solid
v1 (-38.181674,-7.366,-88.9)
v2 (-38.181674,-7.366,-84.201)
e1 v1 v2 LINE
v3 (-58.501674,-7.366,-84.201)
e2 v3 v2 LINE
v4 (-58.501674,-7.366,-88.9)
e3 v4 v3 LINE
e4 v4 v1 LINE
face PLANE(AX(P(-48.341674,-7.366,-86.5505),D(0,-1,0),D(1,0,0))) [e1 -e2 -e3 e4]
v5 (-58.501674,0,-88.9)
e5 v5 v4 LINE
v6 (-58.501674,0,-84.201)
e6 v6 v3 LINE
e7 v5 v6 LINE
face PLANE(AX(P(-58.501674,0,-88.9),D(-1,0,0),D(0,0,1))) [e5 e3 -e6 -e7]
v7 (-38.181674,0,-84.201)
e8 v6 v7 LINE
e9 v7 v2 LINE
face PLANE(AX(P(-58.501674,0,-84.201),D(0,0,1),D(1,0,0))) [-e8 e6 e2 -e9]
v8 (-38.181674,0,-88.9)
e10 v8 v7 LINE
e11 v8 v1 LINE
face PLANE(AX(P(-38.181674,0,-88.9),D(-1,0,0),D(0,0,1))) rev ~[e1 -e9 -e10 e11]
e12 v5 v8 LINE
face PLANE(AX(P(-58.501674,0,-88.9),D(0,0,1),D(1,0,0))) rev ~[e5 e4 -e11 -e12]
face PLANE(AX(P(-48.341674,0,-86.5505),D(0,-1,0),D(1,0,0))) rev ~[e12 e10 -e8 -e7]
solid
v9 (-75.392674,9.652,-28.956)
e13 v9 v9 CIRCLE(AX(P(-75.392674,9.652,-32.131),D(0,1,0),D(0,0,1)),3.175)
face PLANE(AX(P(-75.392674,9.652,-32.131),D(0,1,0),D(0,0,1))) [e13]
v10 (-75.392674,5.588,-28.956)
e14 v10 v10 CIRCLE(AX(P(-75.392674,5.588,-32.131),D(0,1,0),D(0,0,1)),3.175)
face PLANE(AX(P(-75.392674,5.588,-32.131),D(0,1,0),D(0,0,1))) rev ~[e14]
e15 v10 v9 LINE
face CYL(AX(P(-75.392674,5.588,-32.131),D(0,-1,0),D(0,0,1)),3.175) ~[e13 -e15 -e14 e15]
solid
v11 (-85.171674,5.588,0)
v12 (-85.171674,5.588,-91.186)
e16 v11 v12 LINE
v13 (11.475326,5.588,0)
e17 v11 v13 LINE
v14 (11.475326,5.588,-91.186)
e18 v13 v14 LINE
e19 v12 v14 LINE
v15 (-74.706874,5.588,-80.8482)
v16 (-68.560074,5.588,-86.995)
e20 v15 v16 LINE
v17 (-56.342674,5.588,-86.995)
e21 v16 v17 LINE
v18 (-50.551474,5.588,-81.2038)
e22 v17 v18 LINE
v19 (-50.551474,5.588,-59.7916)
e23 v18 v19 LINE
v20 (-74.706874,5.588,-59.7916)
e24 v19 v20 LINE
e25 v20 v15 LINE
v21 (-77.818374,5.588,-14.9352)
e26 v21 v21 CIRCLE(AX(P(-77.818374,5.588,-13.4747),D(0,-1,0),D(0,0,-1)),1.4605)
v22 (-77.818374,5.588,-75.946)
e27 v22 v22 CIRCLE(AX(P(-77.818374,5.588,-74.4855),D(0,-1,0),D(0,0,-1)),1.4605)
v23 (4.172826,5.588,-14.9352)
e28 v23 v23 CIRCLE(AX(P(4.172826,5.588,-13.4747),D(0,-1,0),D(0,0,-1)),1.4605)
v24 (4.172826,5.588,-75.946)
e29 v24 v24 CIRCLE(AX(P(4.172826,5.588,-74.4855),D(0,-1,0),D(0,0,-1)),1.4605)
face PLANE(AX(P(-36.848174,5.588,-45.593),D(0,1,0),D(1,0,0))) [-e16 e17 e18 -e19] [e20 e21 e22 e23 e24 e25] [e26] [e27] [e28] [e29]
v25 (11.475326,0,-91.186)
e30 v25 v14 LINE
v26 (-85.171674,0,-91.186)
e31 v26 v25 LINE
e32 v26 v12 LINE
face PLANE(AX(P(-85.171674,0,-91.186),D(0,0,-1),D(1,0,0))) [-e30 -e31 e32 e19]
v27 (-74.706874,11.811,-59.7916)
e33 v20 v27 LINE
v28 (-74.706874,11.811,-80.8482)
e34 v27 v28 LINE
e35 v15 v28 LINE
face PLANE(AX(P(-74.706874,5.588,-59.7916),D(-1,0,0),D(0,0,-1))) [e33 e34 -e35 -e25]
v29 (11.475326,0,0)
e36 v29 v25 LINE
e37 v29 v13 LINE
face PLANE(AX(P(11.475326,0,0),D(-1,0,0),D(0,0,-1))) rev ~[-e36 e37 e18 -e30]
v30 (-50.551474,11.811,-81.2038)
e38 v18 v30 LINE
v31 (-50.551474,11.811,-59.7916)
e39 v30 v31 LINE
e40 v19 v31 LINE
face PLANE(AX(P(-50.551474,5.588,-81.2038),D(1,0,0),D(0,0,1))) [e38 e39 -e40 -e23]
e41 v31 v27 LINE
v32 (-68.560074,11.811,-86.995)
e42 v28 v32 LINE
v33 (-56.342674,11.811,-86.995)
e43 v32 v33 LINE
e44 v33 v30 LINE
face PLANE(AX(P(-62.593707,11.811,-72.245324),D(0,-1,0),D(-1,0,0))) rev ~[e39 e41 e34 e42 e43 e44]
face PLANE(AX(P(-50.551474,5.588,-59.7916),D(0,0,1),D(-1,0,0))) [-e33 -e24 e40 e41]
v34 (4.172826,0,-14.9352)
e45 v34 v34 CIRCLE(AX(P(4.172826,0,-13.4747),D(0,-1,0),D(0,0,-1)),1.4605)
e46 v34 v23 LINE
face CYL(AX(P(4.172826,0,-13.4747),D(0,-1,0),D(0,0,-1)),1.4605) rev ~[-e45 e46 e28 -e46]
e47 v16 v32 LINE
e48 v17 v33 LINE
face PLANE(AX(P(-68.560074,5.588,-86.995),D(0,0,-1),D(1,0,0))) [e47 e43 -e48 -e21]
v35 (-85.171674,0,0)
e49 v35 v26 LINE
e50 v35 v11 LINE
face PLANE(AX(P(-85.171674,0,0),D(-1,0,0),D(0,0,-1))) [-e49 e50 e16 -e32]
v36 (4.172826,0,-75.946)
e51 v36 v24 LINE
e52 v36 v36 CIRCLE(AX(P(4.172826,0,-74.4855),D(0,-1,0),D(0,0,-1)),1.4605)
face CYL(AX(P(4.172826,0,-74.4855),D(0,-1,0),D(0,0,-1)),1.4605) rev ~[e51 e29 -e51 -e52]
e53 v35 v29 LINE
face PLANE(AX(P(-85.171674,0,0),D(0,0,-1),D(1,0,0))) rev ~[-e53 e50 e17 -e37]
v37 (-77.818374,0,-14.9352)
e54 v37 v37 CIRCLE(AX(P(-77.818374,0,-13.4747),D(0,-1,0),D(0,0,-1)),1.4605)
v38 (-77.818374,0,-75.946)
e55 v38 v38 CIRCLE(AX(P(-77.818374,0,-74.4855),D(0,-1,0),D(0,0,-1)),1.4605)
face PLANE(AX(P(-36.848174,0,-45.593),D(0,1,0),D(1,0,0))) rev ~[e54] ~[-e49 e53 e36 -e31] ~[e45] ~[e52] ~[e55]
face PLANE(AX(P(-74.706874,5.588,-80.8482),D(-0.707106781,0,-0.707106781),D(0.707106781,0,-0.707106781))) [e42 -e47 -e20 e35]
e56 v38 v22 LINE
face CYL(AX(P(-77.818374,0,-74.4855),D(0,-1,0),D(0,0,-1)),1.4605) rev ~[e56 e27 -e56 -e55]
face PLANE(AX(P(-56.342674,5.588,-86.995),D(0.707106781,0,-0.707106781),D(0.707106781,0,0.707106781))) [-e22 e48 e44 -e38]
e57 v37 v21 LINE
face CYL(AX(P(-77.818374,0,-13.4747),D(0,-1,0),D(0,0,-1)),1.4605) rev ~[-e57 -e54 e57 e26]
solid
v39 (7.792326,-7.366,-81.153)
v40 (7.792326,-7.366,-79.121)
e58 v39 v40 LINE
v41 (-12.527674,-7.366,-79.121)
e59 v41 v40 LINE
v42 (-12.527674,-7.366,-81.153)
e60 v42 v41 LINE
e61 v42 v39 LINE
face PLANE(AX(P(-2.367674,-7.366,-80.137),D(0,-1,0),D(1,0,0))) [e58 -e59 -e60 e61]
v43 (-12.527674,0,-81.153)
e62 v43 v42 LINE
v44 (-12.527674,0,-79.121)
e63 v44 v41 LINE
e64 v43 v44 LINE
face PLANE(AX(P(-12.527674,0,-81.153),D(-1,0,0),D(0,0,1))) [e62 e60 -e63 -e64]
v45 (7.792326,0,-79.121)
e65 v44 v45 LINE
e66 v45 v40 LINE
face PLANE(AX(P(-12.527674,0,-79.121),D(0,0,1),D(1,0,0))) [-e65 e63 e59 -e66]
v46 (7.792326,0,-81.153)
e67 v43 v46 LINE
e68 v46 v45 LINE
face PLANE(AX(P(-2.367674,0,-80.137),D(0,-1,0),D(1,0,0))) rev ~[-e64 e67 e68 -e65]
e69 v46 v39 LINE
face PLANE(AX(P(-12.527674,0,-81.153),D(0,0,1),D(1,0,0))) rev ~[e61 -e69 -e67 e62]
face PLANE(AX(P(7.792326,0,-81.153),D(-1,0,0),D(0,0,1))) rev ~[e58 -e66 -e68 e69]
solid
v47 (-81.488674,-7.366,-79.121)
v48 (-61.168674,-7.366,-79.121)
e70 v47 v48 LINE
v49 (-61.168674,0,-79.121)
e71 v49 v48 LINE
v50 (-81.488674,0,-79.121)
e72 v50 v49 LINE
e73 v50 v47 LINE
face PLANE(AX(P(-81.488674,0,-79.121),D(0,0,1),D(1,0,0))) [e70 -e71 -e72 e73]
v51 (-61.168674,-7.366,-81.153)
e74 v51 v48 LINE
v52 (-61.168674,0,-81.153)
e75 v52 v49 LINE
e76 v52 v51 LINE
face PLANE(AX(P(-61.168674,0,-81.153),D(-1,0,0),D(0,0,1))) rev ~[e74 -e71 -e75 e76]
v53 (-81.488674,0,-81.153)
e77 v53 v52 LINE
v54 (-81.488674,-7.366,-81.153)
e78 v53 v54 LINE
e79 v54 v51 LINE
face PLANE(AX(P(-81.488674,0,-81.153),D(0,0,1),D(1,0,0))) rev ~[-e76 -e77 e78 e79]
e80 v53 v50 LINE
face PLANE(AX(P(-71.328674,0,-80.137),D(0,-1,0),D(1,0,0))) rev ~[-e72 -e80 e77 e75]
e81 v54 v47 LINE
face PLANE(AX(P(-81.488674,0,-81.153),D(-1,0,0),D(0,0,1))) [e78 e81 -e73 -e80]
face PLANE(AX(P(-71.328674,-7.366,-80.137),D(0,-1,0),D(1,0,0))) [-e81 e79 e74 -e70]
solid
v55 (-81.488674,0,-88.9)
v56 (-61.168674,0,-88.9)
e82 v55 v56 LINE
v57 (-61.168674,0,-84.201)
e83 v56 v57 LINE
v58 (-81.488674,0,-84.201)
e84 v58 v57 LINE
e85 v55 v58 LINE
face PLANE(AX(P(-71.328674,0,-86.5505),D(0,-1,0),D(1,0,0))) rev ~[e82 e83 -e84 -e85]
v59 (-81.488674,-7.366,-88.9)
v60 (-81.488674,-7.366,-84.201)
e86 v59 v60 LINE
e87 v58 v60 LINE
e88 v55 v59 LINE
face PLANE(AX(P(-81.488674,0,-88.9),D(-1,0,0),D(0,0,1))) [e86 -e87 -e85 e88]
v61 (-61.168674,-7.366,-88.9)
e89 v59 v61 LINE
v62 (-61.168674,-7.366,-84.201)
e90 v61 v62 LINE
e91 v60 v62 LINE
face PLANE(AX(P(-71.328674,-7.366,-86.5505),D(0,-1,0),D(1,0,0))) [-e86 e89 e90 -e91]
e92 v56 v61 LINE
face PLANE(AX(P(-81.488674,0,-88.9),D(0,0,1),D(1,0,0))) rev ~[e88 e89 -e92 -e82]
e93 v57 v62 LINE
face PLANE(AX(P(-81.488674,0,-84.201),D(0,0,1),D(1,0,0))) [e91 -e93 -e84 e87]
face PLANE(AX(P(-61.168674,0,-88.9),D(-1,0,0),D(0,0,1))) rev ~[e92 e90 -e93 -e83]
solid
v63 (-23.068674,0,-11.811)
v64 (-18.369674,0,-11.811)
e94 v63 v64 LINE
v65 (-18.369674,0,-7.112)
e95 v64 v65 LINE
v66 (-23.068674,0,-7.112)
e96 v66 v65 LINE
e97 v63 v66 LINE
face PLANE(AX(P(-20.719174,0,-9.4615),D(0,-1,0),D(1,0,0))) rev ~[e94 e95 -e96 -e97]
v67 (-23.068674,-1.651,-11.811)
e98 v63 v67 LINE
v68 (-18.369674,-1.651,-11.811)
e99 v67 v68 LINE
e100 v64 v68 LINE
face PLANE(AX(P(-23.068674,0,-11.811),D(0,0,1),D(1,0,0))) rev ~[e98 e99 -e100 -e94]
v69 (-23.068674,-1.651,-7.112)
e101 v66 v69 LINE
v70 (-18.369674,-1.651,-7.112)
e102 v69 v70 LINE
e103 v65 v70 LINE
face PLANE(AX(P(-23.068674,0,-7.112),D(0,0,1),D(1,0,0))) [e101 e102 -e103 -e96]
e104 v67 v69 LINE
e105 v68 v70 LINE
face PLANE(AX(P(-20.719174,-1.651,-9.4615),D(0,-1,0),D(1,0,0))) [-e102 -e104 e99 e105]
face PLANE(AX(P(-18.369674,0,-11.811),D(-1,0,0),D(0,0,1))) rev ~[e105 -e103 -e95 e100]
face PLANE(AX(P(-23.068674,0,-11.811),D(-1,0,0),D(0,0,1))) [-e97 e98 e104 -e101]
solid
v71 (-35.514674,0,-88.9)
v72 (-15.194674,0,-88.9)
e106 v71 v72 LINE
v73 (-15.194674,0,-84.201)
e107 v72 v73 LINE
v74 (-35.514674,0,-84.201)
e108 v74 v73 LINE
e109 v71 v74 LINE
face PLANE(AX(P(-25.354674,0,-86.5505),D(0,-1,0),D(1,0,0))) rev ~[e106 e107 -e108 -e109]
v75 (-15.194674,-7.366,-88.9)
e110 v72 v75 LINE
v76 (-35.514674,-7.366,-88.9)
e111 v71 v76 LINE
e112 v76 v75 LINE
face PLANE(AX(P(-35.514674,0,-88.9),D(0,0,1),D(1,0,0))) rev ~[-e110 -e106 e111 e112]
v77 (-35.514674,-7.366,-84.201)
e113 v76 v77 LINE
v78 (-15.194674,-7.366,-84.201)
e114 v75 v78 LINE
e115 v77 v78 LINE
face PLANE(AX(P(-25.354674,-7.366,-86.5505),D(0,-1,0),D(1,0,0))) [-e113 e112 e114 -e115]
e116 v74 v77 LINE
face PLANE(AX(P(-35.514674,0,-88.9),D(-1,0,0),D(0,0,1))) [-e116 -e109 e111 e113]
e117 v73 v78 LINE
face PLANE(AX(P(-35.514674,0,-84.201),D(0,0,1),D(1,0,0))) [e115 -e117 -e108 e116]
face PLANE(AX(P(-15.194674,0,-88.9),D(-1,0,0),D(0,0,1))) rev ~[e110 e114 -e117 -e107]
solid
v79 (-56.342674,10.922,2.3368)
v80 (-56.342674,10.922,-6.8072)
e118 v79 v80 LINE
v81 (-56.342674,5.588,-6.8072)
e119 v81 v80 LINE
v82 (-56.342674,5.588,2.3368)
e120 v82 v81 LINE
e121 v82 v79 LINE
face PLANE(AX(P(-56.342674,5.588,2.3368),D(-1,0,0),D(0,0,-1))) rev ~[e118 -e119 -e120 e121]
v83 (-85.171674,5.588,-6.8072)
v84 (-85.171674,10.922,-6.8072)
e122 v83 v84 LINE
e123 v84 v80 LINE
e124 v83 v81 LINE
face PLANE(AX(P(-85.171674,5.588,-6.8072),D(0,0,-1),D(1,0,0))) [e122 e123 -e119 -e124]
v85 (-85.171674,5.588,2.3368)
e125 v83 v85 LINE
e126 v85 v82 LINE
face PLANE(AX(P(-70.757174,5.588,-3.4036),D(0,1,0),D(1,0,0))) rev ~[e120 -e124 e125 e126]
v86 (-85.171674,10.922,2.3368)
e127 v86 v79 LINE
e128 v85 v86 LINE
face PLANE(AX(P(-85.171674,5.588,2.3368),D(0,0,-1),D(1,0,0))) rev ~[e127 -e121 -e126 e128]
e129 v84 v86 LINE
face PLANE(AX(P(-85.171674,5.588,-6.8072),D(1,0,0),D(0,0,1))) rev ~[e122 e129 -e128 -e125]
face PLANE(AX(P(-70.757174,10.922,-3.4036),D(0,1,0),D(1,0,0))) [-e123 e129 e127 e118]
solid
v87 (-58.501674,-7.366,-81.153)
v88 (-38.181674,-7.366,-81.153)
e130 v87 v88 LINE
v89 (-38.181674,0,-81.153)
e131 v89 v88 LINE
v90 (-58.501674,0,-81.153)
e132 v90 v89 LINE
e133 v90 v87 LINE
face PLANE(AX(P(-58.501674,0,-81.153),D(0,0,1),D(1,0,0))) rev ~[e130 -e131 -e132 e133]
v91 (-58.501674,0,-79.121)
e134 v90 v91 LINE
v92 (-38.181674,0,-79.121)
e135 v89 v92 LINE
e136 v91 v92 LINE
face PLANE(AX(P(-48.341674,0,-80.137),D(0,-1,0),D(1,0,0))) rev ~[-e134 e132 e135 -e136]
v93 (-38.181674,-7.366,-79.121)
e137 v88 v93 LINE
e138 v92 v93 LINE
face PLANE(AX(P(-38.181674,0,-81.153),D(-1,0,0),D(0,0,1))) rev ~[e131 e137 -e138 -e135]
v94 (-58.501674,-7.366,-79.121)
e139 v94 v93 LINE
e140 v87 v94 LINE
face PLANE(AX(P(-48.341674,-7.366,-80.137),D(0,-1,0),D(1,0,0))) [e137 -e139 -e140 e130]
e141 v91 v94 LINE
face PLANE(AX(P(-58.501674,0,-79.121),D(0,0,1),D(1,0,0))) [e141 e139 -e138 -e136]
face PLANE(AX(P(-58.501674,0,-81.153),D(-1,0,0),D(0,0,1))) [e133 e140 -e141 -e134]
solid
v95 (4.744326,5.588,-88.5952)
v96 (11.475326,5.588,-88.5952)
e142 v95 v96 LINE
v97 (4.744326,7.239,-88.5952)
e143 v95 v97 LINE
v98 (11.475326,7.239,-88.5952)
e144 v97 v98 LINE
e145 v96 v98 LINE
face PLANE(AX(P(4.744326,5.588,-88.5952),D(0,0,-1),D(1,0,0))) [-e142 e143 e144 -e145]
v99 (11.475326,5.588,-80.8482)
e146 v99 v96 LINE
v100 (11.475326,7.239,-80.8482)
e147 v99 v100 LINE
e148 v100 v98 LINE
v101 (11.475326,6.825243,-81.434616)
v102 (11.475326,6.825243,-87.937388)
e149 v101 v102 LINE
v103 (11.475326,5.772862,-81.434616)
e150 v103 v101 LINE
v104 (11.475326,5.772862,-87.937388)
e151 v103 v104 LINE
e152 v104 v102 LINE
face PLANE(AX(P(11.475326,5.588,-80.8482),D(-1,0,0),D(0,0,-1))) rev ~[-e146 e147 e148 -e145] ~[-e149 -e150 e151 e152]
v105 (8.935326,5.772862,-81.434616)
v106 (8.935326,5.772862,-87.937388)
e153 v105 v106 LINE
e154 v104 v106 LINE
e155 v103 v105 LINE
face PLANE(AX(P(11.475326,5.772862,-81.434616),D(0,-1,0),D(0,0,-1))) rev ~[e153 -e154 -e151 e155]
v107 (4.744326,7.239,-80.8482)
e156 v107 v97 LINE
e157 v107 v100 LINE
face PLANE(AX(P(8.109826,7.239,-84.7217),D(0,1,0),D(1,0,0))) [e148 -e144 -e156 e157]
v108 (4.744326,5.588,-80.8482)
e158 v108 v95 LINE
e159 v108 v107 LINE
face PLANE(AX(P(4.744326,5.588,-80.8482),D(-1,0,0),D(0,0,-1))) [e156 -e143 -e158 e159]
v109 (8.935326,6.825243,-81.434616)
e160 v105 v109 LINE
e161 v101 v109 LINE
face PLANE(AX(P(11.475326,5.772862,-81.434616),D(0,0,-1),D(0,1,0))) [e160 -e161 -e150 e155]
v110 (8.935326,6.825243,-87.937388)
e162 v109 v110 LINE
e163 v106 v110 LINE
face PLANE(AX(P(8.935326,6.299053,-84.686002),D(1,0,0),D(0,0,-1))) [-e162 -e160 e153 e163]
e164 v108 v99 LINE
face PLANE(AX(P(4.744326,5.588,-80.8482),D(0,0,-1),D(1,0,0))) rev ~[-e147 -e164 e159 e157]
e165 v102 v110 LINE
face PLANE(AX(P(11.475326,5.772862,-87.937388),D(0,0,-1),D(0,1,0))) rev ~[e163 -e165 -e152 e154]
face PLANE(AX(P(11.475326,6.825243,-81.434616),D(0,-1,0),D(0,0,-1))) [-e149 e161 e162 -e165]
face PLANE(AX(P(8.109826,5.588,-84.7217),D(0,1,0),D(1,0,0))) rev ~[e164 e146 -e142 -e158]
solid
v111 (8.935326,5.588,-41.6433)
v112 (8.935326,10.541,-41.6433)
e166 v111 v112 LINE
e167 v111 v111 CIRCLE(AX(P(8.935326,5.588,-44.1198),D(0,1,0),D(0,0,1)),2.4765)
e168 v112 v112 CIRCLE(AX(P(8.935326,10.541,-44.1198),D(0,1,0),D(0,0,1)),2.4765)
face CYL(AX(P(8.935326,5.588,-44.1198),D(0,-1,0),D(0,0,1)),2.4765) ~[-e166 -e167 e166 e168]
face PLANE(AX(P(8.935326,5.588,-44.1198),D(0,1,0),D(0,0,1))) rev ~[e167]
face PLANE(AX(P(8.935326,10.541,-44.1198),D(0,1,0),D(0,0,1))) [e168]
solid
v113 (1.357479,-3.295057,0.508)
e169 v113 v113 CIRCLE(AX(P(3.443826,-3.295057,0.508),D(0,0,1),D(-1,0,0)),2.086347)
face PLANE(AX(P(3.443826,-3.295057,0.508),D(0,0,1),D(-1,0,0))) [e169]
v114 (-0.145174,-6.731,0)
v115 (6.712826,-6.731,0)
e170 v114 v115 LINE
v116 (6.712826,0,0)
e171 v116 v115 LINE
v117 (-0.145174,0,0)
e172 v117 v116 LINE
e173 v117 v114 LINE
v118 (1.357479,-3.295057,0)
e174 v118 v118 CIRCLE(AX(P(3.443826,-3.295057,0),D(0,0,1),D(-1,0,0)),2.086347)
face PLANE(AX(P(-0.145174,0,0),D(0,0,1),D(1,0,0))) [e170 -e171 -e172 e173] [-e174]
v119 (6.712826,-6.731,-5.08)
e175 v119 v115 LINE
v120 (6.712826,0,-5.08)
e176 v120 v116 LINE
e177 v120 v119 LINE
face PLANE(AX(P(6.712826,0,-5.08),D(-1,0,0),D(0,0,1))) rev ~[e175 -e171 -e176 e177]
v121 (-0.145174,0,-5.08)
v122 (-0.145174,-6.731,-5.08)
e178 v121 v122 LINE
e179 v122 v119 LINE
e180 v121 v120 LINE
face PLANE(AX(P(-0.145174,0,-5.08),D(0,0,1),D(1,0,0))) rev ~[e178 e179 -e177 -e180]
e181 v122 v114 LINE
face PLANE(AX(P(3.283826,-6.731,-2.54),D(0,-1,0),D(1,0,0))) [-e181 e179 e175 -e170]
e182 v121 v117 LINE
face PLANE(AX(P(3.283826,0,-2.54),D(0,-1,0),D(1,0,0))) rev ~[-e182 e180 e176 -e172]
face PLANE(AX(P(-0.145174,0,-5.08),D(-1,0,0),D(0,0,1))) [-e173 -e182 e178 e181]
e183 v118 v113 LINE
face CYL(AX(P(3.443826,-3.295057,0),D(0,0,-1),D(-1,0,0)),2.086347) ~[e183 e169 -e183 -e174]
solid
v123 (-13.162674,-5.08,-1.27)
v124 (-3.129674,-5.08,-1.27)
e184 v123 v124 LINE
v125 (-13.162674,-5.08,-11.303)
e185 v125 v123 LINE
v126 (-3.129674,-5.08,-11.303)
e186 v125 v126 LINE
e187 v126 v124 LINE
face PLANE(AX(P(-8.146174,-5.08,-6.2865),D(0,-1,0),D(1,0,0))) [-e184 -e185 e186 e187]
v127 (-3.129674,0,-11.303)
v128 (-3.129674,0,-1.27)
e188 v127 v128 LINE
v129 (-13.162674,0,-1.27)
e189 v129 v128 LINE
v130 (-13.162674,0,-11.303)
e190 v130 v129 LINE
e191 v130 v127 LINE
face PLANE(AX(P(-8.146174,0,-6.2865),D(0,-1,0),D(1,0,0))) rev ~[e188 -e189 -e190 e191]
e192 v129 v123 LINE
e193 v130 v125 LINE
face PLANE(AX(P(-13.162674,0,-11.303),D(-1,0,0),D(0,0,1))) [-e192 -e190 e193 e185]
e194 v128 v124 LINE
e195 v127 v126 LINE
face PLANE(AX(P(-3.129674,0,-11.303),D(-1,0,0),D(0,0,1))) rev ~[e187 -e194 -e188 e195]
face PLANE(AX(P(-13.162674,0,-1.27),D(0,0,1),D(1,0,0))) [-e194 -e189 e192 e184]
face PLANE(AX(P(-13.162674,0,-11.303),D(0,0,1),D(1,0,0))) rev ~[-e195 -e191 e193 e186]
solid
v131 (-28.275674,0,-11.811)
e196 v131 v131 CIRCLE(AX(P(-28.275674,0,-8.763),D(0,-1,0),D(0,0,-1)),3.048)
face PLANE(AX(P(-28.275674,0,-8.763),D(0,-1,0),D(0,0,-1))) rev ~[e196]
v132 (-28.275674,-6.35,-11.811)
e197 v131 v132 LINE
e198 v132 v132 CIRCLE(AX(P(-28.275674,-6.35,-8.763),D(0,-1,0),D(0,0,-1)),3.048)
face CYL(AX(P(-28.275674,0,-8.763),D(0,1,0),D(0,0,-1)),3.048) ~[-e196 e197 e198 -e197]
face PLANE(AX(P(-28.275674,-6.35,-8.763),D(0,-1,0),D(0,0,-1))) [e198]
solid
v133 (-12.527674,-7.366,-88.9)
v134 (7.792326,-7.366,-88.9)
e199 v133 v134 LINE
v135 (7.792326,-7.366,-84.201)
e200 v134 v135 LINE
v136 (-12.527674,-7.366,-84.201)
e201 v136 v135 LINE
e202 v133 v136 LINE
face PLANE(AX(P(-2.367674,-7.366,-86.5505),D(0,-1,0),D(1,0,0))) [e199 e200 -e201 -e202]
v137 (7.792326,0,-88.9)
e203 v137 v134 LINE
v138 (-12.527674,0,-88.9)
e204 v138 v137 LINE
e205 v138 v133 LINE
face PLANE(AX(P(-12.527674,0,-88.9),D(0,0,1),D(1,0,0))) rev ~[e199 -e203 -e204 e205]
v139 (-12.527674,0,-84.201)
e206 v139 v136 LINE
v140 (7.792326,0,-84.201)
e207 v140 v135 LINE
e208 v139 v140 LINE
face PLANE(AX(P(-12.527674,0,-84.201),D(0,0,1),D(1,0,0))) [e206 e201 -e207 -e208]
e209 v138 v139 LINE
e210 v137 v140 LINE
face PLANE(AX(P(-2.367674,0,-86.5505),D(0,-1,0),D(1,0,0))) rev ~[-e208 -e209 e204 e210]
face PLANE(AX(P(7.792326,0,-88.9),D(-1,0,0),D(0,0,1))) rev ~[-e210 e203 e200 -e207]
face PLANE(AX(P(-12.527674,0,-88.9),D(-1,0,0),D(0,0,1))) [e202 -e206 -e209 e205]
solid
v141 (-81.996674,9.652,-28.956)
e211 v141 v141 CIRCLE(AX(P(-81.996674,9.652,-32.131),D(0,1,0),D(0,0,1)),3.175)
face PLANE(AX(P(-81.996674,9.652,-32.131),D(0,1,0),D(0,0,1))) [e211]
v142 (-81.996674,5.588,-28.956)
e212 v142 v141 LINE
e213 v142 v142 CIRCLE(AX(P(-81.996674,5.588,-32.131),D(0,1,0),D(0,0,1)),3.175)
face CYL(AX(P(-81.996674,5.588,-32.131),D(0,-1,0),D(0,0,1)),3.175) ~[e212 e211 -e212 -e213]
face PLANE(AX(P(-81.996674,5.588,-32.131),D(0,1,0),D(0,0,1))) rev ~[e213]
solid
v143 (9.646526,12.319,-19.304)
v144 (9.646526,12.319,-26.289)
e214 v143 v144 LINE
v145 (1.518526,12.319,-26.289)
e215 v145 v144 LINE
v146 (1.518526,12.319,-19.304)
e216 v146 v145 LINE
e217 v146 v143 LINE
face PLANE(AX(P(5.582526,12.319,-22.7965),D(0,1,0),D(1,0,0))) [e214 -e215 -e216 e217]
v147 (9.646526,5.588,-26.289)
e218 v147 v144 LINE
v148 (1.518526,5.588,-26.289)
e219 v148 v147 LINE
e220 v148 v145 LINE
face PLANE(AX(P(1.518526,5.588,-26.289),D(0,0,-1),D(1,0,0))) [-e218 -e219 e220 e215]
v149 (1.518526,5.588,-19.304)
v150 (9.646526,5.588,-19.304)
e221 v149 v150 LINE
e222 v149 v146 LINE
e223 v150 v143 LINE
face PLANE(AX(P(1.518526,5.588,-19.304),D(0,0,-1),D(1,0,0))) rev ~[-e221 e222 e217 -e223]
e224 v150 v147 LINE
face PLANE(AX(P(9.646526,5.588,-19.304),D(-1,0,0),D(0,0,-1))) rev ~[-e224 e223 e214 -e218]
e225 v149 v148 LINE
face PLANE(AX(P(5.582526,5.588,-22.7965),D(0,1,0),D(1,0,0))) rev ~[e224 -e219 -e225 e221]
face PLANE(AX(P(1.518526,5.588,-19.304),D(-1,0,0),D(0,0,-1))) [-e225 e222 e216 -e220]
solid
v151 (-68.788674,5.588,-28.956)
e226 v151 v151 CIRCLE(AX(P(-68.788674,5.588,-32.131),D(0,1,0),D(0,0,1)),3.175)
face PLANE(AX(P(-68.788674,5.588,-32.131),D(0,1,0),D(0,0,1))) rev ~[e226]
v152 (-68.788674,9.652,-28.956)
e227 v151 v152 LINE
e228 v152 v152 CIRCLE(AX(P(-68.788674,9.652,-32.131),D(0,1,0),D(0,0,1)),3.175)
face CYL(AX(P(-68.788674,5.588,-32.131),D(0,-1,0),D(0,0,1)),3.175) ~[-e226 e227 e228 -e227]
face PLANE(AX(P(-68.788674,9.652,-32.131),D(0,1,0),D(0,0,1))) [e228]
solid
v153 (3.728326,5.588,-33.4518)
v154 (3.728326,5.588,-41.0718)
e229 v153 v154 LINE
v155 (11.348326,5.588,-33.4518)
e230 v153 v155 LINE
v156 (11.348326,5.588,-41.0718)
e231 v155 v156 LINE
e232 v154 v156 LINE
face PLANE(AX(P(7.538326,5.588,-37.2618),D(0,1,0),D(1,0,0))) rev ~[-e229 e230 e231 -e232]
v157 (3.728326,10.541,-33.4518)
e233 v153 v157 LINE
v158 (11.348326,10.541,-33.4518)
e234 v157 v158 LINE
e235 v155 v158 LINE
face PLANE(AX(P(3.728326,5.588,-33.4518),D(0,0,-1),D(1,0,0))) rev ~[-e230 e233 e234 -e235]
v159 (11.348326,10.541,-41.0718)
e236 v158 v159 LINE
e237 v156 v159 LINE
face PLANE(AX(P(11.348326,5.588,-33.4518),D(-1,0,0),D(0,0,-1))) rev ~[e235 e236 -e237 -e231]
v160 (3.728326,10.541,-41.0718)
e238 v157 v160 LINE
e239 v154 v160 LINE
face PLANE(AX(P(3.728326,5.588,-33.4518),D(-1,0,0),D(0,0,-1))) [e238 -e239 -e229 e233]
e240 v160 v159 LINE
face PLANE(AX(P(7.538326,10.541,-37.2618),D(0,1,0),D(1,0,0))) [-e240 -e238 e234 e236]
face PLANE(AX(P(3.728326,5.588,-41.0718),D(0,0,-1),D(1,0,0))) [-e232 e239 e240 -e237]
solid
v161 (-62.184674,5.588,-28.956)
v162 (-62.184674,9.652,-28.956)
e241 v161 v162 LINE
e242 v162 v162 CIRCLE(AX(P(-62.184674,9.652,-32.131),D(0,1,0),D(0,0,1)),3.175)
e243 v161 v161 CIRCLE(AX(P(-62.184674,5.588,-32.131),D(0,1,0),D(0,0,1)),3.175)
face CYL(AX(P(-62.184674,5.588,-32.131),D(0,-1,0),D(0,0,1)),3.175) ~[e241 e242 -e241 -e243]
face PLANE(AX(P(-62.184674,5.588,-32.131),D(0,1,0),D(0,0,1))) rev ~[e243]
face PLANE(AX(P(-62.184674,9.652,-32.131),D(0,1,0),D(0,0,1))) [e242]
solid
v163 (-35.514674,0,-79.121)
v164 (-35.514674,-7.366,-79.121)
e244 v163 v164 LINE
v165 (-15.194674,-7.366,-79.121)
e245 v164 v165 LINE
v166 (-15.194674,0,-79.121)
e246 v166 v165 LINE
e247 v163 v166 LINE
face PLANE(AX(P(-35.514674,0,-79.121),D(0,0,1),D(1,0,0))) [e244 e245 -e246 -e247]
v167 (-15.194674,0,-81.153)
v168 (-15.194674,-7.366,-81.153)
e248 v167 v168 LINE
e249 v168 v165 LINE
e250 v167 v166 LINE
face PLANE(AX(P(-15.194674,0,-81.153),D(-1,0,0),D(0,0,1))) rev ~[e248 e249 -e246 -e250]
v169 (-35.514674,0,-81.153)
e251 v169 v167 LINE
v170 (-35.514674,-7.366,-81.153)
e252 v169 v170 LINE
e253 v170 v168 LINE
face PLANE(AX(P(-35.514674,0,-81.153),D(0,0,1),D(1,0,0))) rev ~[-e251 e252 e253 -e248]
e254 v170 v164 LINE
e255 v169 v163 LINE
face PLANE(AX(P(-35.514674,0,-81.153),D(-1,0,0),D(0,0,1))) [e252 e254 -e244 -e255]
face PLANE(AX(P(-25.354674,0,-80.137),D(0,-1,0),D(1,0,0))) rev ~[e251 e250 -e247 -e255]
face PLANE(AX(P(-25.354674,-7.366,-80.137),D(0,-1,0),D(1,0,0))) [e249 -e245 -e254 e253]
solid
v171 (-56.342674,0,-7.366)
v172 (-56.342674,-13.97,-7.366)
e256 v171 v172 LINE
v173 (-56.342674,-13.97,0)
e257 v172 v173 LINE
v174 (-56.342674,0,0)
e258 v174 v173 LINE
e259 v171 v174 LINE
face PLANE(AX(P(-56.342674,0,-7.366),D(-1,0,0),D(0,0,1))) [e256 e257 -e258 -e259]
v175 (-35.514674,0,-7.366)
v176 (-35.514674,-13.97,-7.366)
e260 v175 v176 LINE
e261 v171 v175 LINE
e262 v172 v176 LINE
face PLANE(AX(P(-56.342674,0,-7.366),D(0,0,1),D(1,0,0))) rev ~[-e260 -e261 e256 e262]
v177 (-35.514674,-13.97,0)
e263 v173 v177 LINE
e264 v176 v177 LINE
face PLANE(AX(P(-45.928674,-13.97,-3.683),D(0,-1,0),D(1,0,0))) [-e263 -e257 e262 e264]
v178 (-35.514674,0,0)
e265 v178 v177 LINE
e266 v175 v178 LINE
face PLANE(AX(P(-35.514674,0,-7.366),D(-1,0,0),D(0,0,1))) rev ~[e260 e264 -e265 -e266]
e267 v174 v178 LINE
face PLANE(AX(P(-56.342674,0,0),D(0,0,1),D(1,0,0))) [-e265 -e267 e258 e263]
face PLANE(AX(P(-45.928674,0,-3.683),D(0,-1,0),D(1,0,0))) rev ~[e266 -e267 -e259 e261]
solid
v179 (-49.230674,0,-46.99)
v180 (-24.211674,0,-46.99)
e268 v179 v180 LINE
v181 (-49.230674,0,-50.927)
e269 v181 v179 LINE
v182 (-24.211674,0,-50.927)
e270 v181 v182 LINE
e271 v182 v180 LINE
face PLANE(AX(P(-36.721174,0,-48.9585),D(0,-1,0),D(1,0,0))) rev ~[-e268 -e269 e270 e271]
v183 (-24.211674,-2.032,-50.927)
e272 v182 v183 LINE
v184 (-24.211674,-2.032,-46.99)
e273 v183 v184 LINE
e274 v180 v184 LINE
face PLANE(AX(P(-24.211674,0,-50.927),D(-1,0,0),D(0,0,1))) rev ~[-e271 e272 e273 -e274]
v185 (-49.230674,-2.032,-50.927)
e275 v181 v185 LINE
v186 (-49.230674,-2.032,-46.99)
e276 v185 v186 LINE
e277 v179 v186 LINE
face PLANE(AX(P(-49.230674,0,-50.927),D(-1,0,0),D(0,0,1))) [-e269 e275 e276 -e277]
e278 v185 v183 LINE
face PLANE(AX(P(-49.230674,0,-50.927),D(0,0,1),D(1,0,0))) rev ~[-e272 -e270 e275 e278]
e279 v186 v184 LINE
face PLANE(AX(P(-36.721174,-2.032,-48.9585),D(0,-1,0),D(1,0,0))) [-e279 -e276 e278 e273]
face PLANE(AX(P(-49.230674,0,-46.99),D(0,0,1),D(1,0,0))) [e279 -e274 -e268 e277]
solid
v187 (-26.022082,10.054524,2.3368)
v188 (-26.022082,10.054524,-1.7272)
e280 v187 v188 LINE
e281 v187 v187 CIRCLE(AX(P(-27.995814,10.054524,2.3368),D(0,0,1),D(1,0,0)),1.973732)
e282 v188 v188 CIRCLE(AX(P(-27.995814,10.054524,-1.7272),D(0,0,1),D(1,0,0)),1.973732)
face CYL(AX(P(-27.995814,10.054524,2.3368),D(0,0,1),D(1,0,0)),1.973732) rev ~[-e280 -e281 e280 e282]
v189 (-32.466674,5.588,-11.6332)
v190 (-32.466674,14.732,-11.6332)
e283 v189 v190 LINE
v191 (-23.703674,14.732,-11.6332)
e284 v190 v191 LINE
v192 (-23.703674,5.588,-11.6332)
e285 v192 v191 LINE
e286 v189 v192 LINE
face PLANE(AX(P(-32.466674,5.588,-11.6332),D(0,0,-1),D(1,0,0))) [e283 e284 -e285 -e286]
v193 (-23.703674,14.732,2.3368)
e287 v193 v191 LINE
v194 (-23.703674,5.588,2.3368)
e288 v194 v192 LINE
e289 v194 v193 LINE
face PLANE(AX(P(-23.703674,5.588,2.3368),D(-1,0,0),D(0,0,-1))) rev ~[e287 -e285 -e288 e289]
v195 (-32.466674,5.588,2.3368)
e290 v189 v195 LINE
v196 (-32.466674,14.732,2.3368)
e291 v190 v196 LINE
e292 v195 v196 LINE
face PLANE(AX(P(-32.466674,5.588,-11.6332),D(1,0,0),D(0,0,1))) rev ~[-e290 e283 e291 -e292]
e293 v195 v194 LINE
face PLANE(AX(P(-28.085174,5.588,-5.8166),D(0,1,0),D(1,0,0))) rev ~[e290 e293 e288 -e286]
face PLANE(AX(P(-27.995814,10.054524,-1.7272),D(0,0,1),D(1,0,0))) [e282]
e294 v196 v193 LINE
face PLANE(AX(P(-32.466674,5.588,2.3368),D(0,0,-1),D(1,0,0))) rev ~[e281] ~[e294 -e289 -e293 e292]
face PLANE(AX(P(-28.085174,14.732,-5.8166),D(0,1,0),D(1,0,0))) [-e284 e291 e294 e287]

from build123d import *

# Parameters (mm, degrees)
SKETCH1_W             = 96.647
SKETCH1_H             = 91.186
BOSS_EXTRUDE1_DEPTH   = 5.588
BOSS_EXTRUDE2_DEPTH   = 6.223
SKETCH2_3_R           = 3.175
BOSS_EXTRUDE3_DEPTH   = 4.064
BOSS_EXTRUDE3_2_DEPTH = 4.064
BOSS_EXTRUDE3_3_DEPTH = 4.064
BOSS_EXTRUDE3_4_DEPTH = 4.064
SKETCH2_4_W           = 28.829
SKETCH2_4_H           = 6.8072
SKETCH2_4_H_2         = 2.3368
BOSS_EXTRUDE4_DEPTH   = 5.334
SKETCH2_5_W           = 8.763
SKETCH2_5_H           = 11.6332
SKETCH2_5_H_2         = 2.3368
BOSS_EXTRUDE5_DEPTH   = 9.144
SKETCH2_6_W           = 8.128
SKETCH2_6_H           = 6.985
BOSS_EXTRUDE6_DEPTH   = 6.731
SKETCH2_7_W           = 7.62
SKETCH2_7_H           = 7.62
BOSS_EXTRUDE7_DEPTH   = 4.953
SKETCH2_7_R           = 2.4765
BOSS_EXTRUDE7_2_DEPTH = 4.953
SKETCH2_8_W           = 6.731
SKETCH2_8_H           = 7.747
BOSS_EXTRUDE8_DEPTH   = 1.651
SKETCH3_W             = 20.32
SKETCH3_H             = 2.032
BOSS_EXTRUDE9_DEPTH   = 7.366
SKETCH3_H_2           = 4.699
BOSS_EXTRUDE9_2_DEPTH = 7.366
BOSS_EXTRUDE9_3_DEPTH = 7.366
BOSS_EXTRUDE9_4_DEPTH = 7.366
BOSS_EXTRUDE9_5_DEPTH = 7.366
BOSS_EXTRUDE9_6_DEPTH = 7.366
BOSS_EXTRUDE9_7_DEPTH = 7.366
BOSS_EXTRUDE9_8_DEPTH = 7.366
SKETCH4_W             = 20.828
SKETCH4_H             = 7.366
BOSS_EXTRUDE10_DEPTH  = 13.97
SKETCH5_W             = 25.019
SKETCH5_H             = 3.937
BOSS_EXTRUDE11_DEPTH  = 2.032
SKETCH6_R             = 3.048
BOSS_EXTRUDE12_DEPTH  = 6.35
SKETCH7_W             = 4.699
SKETCH7_H             = 4.699
BOSS_EXTRUDE13_DEPTH  = 1.651
SKETCH8_W             = 10.033
SKETCH8_H             = 10.033
BOSS_EXTRUDE14_DEPTH  = 5.08
SKETCH10_W            = 6.858
SKETCH10_H            = 5.08
BOSS_EXTRUDE15_DEPTH  = 6.731
SKETCH11_R            = 1.4605
CUT_EXTRUDE1_DEPTH    = 126.642876838
SKETCH13_W            = 6.502772336
SKETCH13_H            = 1.05238103
CUT_EXTRUDE3_DEPTH    = 2.54
SKETCH12_R            = 2.086347044
BOSS_EXTRUDE16_DEPTH  = 0.508
SKETCH14_R            = 1.973731767
CUT_EXTRUDE4_DEPTH    = 4.064


with BuildPart() as part:
    # Sketch1 → Boss-Extrude1 (new body)
    with BuildSketch(Plane(origin=(0, 0, 0), x_dir=(1, 0, 0), z_dir=(0, 1, 0))):
        with Locations((-36.848174165, 45.593)):
            Rectangle(SKETCH1_W, SKETCH1_H)
    extrude(amount=BOSS_EXTRUDE1_DEPTH)

    # Sketch2 → Boss-Extrude2 (add)
    with BuildSketch(Plane(origin=(0, 5.588, 0), x_dir=(1, 0, 0), z_dir=(0, 1, 0))):
        Polygon((-56.342674165, 86.995), (-50.551474165, 81.2038), (-50.551474165, 59.7916), (-74.706874165, 59.7916), (-74.706874165, 80.8482), (-68.560074165, 86.995), align=None)
    extrude(amount=BOSS_EXTRUDE2_DEPTH)

    # Sketch11 → Cut-Extrude1 (cut, through all)
    with BuildSketch(Plane.XZ):
        with Locations(Location((-77.818374165, -13.4747, 0), (0, 0, 270))):
            Circle(SKETCH11_R)
        with Locations(Location((-77.818374165, -74.4855, 0), (0, 0, 270))):
            Circle(SKETCH11_R)
        with Locations(Location((4.172825835, -74.4855, 0), (0, 0, 270))):
            Circle(SKETCH11_R)
        with Locations(Location((4.172825835, -13.4747, 0), (0, 0, 270))):
            Circle(SKETCH11_R)
    extrude(amount=-CUT_EXTRUDE1_DEPTH, mode=Mode.SUBTRACT)


with BuildPart() as body_2:
    # Sketch2<3> → Boss-Extrude3 (new body)
    with BuildSketch(Plane(origin=(0, 5.588, 0), x_dir=(1, 0, 0), z_dir=(0, 1, 0))):
        with Locations(Location((-81.996674165, 32.131, 0), (0, 0, 270))):
            Circle(SKETCH2_3_R)
    extrude(amount=BOSS_EXTRUDE3_DEPTH)


with BuildPart() as body_3:
    # Sketch2<3> → Boss-Extrude3 2 (new body)
    with BuildSketch(Plane(origin=(0, 5.588, 0), x_dir=(1, 0, 0), z_dir=(0, 1, 0))):
        with Locations(Location((-75.392674165, 32.131, 0), (0, 0, 270))):
            Circle(SKETCH2_3_R)
    extrude(amount=BOSS_EXTRUDE3_2_DEPTH)


with BuildPart() as body_4:
    # Sketch2<3> → Boss-Extrude3 3 (new body)
    with BuildSketch(Plane(origin=(0, 5.588, 0), x_dir=(1, 0, 0), z_dir=(0, 1, 0))):
        with Locations(Location((-68.788674165, 32.131, 0), (0, 0, 270))):
            Circle(SKETCH2_3_R)
    extrude(amount=BOSS_EXTRUDE3_3_DEPTH)


with BuildPart() as body_5:
    # Sketch2<3> → Boss-Extrude3 4 (new body)
    with BuildSketch(Plane(origin=(0, 5.588, 0), x_dir=(1, 0, 0), z_dir=(0, 1, 0))):
        with Locations(Location((-62.184674165, 32.131, 0), (0, 0, 270))):
            Circle(SKETCH2_3_R)
    extrude(amount=BOSS_EXTRUDE3_4_DEPTH)


with BuildPart() as body_6:
    # Sketch2<4> → Boss-Extrude4 (new body)
    with BuildSketch(Plane(origin=(0, 5.588, 0), x_dir=(1, 0, 0), z_dir=(0, 1, 0))):
        with Locations((-70.757174165, 3.4036)):
            Rectangle(SKETCH2_4_W, SKETCH2_4_H)
        with Locations((-70.757174165, -1.1684)):
            Rectangle(SKETCH2_4_W, SKETCH2_4_H_2)
    extrude(amount=BOSS_EXTRUDE4_DEPTH)


with BuildPart() as body_7:
    # Sketch2<5> → Boss-Extrude5 (new body)
    with BuildSketch(Plane(origin=(0, 5.588, 0), x_dir=(1, 0, 0), z_dir=(0, 1, 0))):
        with Locations((-28.085174165, 5.8166)):
            Rectangle(SKETCH2_5_W, SKETCH2_5_H)
        with Locations((-28.085174165, -1.1684)):
            Rectangle(SKETCH2_5_W, SKETCH2_5_H_2)
    extrude(amount=BOSS_EXTRUDE5_DEPTH)

    # Sketch14 → Cut-Extrude4 (cut)
    with BuildSketch(Plane.XY.offset(2.3368)):
        with Locations((-27.995813949, 10.054523758)):
            Circle(SKETCH14_R)
    extrude(amount=-CUT_EXTRUDE4_DEPTH, mode=Mode.SUBTRACT)


with BuildPart() as body_8:
    # Sketch2<6> → Boss-Extrude6 (new body)
    with BuildSketch(Plane(origin=(0, 5.588, 0), x_dir=(1, 0, 0), z_dir=(0, 1, 0))):
        with Locations((5.582525835, 22.7965)):
            Rectangle(SKETCH2_6_W, SKETCH2_6_H)
    extrude(amount=BOSS_EXTRUDE6_DEPTH)


with BuildPart() as body_9:
    # Sketch2<7> → Boss-Extrude7 (new body)
    with BuildSketch(Plane(origin=(0, 5.588, 0), x_dir=(1, 0, 0), z_dir=(0, 1, 0))):
        with Locations((7.538325835, 37.2618)):
            Rectangle(SKETCH2_7_W, SKETCH2_7_H)
    extrude(amount=BOSS_EXTRUDE7_DEPTH)


with BuildPart() as body_10:
    # Sketch2<7> → Boss-Extrude7 2 (new body)
    with BuildSketch(Plane(origin=(0, 5.588, 0), x_dir=(1, 0, 0), z_dir=(0, 1, 0))):
        with Locations(Location((8.935325835, 44.1198, 0), (0, 0, 270))):
            Circle(SKETCH2_7_R)
    extrude(amount=BOSS_EXTRUDE7_2_DEPTH)


with BuildPart() as body_11:
    # Sketch2<8> → Boss-Extrude8 (new body)
    with BuildSketch(Plane(origin=(0, 5.588, 0), x_dir=(1, 0, 0), z_dir=(0, 1, 0))):
        with Locations((8.109825835, 84.7217)):
            Rectangle(SKETCH2_8_W, SKETCH2_8_H)
    extrude(amount=BOSS_EXTRUDE8_DEPTH)

    # Sketch13 → Cut-Extrude3 (cut)
    with BuildSketch(Plane(origin=(11.475325835, 0, 0), x_dir=(0, 0, -1), z_dir=(1, 0, 0))):
        with Locations((84.686002297, 6.299052732)):
            Rectangle(SKETCH13_W, SKETCH13_H)
    extrude(amount=-CUT_EXTRUDE3_DEPTH, mode=Mode.SUBTRACT)


with BuildPart() as body_12:
    # Sketch3 → Boss-Extrude9 (new body)
    with BuildSketch(Plane.XZ):
        with Locations((-71.328674165, -80.137)):
            Rectangle(SKETCH3_W, SKETCH3_H)
    extrude(amount=BOSS_EXTRUDE9_DEPTH)


with BuildPart() as body_13:
    # Sketch3 → Boss-Extrude9 2 (new body)
    with BuildSketch(Plane.XZ):
        with Locations((-71.328674165, -86.5505)):
            Rectangle(SKETCH3_W, SKETCH3_H_2)
    extrude(amount=BOSS_EXTRUDE9_2_DEPTH)


with BuildPart() as body_14:
    # Sketch3 → Boss-Extrude9 3 (new body)
    with BuildSketch(Plane.XZ):
        with Locations((-48.341674165, -80.137)):
            Rectangle(SKETCH3_W, SKETCH3_H)
    extrude(amount=BOSS_EXTRUDE9_3_DEPTH)


with BuildPart() as body_15:
    # Sketch3 → Boss-Extrude9 4 (new body)
    with BuildSketch(Plane.XZ):
        with Locations((-48.341674165, -86.5505)):
            Rectangle(SKETCH3_W, SKETCH3_H_2)
    extrude(amount=BOSS_EXTRUDE9_4_DEPTH)


with BuildPart() as body_16:
    # Sketch3 → Boss-Extrude9 5 (new body)
    with BuildSketch(Plane.XZ):
        with Locations((-25.354674165, -80.137)):
            Rectangle(SKETCH3_W, SKETCH3_H)
    extrude(amount=BOSS_EXTRUDE9_5_DEPTH)


with BuildPart() as body_17:
    # Sketch3 → Boss-Extrude9 6 (new body)
    with BuildSketch(Plane.XZ):
        with Locations((-25.354674165, -86.5505)):
            Rectangle(SKETCH3_W, SKETCH3_H_2)
    extrude(amount=BOSS_EXTRUDE9_6_DEPTH)


with BuildPart() as body_18:
    # Sketch3 → Boss-Extrude9 7 (new body)
    with BuildSketch(Plane.XZ):
        with Locations((-2.367674165, -80.137)):
            Rectangle(SKETCH3_W, SKETCH3_H)
    extrude(amount=BOSS_EXTRUDE9_7_DEPTH)


with BuildPart() as body_19:
    # Sketch3 → Boss-Extrude9 8 (new body)
    with BuildSketch(Plane.XZ):
        with Locations((-2.367674165, -86.5505)):
            Rectangle(SKETCH3_W, SKETCH3_H_2)
    extrude(amount=BOSS_EXTRUDE9_8_DEPTH)


with BuildPart() as body_20:
    # Sketch4 → Boss-Extrude10 (new body)
    with BuildSketch(Plane.XZ):
        with Locations((-45.928674165, -3.683)):
            Rectangle(SKETCH4_W, SKETCH4_H)
    extrude(amount=BOSS_EXTRUDE10_DEPTH)


with BuildPart() as body_21:
    # Sketch5 → Boss-Extrude11 (new body)
    with BuildSketch(Plane.XZ):
        with Locations((-36.721174165, -48.9585)):
            Rectangle(SKETCH5_W, SKETCH5_H)
    extrude(amount=BOSS_EXTRUDE11_DEPTH)


with BuildPart() as body_22:
    # Sketch6 → Boss-Extrude12 (new body)
    with BuildSketch(Plane.XZ):
        with Locations(Location((-28.275674165, -8.763, 0), (0, 0, 270))):
            Circle(SKETCH6_R)
    extrude(amount=BOSS_EXTRUDE12_DEPTH)


with BuildPart() as body_23:
    # Sketch7 → Boss-Extrude13 (new body)
    with BuildSketch(Plane.XZ):
        with Locations((-20.719174165, -9.4615)):
            Rectangle(SKETCH7_W, SKETCH7_H)
    extrude(amount=BOSS_EXTRUDE13_DEPTH)


with BuildPart() as body_24:
    # Sketch8 → Boss-Extrude14 (new body)
    with BuildSketch(Plane.XZ):
        with Locations((-8.146174165, -6.2865)):
            Rectangle(SKETCH8_W, SKETCH8_H)
    extrude(amount=BOSS_EXTRUDE14_DEPTH)


with BuildPart() as body_25:
    # Sketch10 → Boss-Extrude15 (new body)
    with BuildSketch(Plane.XZ):
        with Locations((3.283825835, -2.54)):
            Rectangle(SKETCH10_W, SKETCH10_H)
    extrude(amount=BOSS_EXTRUDE15_DEPTH)

    # Sketch12 → Boss-Extrude16 (add)
    with BuildSketch(Plane.XY):
        with Locations(Location((3.443826311, -3.295057074, 0), (0, 0, 180))):
            Circle(SKETCH12_R)
    extrude(amount=BOSS_EXTRUDE16_DEPTH)


solid = Compound([part.part, body_2.part, body_3.part, body_4.part, body_5.part, body_6.part, body_7.part, body_8.part, body_9.part, body_10.part, body_11.part, body_12.part, body_13.part, body_14.part, body_15.part, body_16.part, body_17.part, body_18.part, body_19.part, body_20.part, body_21.part, body_22.part, body_23.part, body_24.part, body_25.part])
